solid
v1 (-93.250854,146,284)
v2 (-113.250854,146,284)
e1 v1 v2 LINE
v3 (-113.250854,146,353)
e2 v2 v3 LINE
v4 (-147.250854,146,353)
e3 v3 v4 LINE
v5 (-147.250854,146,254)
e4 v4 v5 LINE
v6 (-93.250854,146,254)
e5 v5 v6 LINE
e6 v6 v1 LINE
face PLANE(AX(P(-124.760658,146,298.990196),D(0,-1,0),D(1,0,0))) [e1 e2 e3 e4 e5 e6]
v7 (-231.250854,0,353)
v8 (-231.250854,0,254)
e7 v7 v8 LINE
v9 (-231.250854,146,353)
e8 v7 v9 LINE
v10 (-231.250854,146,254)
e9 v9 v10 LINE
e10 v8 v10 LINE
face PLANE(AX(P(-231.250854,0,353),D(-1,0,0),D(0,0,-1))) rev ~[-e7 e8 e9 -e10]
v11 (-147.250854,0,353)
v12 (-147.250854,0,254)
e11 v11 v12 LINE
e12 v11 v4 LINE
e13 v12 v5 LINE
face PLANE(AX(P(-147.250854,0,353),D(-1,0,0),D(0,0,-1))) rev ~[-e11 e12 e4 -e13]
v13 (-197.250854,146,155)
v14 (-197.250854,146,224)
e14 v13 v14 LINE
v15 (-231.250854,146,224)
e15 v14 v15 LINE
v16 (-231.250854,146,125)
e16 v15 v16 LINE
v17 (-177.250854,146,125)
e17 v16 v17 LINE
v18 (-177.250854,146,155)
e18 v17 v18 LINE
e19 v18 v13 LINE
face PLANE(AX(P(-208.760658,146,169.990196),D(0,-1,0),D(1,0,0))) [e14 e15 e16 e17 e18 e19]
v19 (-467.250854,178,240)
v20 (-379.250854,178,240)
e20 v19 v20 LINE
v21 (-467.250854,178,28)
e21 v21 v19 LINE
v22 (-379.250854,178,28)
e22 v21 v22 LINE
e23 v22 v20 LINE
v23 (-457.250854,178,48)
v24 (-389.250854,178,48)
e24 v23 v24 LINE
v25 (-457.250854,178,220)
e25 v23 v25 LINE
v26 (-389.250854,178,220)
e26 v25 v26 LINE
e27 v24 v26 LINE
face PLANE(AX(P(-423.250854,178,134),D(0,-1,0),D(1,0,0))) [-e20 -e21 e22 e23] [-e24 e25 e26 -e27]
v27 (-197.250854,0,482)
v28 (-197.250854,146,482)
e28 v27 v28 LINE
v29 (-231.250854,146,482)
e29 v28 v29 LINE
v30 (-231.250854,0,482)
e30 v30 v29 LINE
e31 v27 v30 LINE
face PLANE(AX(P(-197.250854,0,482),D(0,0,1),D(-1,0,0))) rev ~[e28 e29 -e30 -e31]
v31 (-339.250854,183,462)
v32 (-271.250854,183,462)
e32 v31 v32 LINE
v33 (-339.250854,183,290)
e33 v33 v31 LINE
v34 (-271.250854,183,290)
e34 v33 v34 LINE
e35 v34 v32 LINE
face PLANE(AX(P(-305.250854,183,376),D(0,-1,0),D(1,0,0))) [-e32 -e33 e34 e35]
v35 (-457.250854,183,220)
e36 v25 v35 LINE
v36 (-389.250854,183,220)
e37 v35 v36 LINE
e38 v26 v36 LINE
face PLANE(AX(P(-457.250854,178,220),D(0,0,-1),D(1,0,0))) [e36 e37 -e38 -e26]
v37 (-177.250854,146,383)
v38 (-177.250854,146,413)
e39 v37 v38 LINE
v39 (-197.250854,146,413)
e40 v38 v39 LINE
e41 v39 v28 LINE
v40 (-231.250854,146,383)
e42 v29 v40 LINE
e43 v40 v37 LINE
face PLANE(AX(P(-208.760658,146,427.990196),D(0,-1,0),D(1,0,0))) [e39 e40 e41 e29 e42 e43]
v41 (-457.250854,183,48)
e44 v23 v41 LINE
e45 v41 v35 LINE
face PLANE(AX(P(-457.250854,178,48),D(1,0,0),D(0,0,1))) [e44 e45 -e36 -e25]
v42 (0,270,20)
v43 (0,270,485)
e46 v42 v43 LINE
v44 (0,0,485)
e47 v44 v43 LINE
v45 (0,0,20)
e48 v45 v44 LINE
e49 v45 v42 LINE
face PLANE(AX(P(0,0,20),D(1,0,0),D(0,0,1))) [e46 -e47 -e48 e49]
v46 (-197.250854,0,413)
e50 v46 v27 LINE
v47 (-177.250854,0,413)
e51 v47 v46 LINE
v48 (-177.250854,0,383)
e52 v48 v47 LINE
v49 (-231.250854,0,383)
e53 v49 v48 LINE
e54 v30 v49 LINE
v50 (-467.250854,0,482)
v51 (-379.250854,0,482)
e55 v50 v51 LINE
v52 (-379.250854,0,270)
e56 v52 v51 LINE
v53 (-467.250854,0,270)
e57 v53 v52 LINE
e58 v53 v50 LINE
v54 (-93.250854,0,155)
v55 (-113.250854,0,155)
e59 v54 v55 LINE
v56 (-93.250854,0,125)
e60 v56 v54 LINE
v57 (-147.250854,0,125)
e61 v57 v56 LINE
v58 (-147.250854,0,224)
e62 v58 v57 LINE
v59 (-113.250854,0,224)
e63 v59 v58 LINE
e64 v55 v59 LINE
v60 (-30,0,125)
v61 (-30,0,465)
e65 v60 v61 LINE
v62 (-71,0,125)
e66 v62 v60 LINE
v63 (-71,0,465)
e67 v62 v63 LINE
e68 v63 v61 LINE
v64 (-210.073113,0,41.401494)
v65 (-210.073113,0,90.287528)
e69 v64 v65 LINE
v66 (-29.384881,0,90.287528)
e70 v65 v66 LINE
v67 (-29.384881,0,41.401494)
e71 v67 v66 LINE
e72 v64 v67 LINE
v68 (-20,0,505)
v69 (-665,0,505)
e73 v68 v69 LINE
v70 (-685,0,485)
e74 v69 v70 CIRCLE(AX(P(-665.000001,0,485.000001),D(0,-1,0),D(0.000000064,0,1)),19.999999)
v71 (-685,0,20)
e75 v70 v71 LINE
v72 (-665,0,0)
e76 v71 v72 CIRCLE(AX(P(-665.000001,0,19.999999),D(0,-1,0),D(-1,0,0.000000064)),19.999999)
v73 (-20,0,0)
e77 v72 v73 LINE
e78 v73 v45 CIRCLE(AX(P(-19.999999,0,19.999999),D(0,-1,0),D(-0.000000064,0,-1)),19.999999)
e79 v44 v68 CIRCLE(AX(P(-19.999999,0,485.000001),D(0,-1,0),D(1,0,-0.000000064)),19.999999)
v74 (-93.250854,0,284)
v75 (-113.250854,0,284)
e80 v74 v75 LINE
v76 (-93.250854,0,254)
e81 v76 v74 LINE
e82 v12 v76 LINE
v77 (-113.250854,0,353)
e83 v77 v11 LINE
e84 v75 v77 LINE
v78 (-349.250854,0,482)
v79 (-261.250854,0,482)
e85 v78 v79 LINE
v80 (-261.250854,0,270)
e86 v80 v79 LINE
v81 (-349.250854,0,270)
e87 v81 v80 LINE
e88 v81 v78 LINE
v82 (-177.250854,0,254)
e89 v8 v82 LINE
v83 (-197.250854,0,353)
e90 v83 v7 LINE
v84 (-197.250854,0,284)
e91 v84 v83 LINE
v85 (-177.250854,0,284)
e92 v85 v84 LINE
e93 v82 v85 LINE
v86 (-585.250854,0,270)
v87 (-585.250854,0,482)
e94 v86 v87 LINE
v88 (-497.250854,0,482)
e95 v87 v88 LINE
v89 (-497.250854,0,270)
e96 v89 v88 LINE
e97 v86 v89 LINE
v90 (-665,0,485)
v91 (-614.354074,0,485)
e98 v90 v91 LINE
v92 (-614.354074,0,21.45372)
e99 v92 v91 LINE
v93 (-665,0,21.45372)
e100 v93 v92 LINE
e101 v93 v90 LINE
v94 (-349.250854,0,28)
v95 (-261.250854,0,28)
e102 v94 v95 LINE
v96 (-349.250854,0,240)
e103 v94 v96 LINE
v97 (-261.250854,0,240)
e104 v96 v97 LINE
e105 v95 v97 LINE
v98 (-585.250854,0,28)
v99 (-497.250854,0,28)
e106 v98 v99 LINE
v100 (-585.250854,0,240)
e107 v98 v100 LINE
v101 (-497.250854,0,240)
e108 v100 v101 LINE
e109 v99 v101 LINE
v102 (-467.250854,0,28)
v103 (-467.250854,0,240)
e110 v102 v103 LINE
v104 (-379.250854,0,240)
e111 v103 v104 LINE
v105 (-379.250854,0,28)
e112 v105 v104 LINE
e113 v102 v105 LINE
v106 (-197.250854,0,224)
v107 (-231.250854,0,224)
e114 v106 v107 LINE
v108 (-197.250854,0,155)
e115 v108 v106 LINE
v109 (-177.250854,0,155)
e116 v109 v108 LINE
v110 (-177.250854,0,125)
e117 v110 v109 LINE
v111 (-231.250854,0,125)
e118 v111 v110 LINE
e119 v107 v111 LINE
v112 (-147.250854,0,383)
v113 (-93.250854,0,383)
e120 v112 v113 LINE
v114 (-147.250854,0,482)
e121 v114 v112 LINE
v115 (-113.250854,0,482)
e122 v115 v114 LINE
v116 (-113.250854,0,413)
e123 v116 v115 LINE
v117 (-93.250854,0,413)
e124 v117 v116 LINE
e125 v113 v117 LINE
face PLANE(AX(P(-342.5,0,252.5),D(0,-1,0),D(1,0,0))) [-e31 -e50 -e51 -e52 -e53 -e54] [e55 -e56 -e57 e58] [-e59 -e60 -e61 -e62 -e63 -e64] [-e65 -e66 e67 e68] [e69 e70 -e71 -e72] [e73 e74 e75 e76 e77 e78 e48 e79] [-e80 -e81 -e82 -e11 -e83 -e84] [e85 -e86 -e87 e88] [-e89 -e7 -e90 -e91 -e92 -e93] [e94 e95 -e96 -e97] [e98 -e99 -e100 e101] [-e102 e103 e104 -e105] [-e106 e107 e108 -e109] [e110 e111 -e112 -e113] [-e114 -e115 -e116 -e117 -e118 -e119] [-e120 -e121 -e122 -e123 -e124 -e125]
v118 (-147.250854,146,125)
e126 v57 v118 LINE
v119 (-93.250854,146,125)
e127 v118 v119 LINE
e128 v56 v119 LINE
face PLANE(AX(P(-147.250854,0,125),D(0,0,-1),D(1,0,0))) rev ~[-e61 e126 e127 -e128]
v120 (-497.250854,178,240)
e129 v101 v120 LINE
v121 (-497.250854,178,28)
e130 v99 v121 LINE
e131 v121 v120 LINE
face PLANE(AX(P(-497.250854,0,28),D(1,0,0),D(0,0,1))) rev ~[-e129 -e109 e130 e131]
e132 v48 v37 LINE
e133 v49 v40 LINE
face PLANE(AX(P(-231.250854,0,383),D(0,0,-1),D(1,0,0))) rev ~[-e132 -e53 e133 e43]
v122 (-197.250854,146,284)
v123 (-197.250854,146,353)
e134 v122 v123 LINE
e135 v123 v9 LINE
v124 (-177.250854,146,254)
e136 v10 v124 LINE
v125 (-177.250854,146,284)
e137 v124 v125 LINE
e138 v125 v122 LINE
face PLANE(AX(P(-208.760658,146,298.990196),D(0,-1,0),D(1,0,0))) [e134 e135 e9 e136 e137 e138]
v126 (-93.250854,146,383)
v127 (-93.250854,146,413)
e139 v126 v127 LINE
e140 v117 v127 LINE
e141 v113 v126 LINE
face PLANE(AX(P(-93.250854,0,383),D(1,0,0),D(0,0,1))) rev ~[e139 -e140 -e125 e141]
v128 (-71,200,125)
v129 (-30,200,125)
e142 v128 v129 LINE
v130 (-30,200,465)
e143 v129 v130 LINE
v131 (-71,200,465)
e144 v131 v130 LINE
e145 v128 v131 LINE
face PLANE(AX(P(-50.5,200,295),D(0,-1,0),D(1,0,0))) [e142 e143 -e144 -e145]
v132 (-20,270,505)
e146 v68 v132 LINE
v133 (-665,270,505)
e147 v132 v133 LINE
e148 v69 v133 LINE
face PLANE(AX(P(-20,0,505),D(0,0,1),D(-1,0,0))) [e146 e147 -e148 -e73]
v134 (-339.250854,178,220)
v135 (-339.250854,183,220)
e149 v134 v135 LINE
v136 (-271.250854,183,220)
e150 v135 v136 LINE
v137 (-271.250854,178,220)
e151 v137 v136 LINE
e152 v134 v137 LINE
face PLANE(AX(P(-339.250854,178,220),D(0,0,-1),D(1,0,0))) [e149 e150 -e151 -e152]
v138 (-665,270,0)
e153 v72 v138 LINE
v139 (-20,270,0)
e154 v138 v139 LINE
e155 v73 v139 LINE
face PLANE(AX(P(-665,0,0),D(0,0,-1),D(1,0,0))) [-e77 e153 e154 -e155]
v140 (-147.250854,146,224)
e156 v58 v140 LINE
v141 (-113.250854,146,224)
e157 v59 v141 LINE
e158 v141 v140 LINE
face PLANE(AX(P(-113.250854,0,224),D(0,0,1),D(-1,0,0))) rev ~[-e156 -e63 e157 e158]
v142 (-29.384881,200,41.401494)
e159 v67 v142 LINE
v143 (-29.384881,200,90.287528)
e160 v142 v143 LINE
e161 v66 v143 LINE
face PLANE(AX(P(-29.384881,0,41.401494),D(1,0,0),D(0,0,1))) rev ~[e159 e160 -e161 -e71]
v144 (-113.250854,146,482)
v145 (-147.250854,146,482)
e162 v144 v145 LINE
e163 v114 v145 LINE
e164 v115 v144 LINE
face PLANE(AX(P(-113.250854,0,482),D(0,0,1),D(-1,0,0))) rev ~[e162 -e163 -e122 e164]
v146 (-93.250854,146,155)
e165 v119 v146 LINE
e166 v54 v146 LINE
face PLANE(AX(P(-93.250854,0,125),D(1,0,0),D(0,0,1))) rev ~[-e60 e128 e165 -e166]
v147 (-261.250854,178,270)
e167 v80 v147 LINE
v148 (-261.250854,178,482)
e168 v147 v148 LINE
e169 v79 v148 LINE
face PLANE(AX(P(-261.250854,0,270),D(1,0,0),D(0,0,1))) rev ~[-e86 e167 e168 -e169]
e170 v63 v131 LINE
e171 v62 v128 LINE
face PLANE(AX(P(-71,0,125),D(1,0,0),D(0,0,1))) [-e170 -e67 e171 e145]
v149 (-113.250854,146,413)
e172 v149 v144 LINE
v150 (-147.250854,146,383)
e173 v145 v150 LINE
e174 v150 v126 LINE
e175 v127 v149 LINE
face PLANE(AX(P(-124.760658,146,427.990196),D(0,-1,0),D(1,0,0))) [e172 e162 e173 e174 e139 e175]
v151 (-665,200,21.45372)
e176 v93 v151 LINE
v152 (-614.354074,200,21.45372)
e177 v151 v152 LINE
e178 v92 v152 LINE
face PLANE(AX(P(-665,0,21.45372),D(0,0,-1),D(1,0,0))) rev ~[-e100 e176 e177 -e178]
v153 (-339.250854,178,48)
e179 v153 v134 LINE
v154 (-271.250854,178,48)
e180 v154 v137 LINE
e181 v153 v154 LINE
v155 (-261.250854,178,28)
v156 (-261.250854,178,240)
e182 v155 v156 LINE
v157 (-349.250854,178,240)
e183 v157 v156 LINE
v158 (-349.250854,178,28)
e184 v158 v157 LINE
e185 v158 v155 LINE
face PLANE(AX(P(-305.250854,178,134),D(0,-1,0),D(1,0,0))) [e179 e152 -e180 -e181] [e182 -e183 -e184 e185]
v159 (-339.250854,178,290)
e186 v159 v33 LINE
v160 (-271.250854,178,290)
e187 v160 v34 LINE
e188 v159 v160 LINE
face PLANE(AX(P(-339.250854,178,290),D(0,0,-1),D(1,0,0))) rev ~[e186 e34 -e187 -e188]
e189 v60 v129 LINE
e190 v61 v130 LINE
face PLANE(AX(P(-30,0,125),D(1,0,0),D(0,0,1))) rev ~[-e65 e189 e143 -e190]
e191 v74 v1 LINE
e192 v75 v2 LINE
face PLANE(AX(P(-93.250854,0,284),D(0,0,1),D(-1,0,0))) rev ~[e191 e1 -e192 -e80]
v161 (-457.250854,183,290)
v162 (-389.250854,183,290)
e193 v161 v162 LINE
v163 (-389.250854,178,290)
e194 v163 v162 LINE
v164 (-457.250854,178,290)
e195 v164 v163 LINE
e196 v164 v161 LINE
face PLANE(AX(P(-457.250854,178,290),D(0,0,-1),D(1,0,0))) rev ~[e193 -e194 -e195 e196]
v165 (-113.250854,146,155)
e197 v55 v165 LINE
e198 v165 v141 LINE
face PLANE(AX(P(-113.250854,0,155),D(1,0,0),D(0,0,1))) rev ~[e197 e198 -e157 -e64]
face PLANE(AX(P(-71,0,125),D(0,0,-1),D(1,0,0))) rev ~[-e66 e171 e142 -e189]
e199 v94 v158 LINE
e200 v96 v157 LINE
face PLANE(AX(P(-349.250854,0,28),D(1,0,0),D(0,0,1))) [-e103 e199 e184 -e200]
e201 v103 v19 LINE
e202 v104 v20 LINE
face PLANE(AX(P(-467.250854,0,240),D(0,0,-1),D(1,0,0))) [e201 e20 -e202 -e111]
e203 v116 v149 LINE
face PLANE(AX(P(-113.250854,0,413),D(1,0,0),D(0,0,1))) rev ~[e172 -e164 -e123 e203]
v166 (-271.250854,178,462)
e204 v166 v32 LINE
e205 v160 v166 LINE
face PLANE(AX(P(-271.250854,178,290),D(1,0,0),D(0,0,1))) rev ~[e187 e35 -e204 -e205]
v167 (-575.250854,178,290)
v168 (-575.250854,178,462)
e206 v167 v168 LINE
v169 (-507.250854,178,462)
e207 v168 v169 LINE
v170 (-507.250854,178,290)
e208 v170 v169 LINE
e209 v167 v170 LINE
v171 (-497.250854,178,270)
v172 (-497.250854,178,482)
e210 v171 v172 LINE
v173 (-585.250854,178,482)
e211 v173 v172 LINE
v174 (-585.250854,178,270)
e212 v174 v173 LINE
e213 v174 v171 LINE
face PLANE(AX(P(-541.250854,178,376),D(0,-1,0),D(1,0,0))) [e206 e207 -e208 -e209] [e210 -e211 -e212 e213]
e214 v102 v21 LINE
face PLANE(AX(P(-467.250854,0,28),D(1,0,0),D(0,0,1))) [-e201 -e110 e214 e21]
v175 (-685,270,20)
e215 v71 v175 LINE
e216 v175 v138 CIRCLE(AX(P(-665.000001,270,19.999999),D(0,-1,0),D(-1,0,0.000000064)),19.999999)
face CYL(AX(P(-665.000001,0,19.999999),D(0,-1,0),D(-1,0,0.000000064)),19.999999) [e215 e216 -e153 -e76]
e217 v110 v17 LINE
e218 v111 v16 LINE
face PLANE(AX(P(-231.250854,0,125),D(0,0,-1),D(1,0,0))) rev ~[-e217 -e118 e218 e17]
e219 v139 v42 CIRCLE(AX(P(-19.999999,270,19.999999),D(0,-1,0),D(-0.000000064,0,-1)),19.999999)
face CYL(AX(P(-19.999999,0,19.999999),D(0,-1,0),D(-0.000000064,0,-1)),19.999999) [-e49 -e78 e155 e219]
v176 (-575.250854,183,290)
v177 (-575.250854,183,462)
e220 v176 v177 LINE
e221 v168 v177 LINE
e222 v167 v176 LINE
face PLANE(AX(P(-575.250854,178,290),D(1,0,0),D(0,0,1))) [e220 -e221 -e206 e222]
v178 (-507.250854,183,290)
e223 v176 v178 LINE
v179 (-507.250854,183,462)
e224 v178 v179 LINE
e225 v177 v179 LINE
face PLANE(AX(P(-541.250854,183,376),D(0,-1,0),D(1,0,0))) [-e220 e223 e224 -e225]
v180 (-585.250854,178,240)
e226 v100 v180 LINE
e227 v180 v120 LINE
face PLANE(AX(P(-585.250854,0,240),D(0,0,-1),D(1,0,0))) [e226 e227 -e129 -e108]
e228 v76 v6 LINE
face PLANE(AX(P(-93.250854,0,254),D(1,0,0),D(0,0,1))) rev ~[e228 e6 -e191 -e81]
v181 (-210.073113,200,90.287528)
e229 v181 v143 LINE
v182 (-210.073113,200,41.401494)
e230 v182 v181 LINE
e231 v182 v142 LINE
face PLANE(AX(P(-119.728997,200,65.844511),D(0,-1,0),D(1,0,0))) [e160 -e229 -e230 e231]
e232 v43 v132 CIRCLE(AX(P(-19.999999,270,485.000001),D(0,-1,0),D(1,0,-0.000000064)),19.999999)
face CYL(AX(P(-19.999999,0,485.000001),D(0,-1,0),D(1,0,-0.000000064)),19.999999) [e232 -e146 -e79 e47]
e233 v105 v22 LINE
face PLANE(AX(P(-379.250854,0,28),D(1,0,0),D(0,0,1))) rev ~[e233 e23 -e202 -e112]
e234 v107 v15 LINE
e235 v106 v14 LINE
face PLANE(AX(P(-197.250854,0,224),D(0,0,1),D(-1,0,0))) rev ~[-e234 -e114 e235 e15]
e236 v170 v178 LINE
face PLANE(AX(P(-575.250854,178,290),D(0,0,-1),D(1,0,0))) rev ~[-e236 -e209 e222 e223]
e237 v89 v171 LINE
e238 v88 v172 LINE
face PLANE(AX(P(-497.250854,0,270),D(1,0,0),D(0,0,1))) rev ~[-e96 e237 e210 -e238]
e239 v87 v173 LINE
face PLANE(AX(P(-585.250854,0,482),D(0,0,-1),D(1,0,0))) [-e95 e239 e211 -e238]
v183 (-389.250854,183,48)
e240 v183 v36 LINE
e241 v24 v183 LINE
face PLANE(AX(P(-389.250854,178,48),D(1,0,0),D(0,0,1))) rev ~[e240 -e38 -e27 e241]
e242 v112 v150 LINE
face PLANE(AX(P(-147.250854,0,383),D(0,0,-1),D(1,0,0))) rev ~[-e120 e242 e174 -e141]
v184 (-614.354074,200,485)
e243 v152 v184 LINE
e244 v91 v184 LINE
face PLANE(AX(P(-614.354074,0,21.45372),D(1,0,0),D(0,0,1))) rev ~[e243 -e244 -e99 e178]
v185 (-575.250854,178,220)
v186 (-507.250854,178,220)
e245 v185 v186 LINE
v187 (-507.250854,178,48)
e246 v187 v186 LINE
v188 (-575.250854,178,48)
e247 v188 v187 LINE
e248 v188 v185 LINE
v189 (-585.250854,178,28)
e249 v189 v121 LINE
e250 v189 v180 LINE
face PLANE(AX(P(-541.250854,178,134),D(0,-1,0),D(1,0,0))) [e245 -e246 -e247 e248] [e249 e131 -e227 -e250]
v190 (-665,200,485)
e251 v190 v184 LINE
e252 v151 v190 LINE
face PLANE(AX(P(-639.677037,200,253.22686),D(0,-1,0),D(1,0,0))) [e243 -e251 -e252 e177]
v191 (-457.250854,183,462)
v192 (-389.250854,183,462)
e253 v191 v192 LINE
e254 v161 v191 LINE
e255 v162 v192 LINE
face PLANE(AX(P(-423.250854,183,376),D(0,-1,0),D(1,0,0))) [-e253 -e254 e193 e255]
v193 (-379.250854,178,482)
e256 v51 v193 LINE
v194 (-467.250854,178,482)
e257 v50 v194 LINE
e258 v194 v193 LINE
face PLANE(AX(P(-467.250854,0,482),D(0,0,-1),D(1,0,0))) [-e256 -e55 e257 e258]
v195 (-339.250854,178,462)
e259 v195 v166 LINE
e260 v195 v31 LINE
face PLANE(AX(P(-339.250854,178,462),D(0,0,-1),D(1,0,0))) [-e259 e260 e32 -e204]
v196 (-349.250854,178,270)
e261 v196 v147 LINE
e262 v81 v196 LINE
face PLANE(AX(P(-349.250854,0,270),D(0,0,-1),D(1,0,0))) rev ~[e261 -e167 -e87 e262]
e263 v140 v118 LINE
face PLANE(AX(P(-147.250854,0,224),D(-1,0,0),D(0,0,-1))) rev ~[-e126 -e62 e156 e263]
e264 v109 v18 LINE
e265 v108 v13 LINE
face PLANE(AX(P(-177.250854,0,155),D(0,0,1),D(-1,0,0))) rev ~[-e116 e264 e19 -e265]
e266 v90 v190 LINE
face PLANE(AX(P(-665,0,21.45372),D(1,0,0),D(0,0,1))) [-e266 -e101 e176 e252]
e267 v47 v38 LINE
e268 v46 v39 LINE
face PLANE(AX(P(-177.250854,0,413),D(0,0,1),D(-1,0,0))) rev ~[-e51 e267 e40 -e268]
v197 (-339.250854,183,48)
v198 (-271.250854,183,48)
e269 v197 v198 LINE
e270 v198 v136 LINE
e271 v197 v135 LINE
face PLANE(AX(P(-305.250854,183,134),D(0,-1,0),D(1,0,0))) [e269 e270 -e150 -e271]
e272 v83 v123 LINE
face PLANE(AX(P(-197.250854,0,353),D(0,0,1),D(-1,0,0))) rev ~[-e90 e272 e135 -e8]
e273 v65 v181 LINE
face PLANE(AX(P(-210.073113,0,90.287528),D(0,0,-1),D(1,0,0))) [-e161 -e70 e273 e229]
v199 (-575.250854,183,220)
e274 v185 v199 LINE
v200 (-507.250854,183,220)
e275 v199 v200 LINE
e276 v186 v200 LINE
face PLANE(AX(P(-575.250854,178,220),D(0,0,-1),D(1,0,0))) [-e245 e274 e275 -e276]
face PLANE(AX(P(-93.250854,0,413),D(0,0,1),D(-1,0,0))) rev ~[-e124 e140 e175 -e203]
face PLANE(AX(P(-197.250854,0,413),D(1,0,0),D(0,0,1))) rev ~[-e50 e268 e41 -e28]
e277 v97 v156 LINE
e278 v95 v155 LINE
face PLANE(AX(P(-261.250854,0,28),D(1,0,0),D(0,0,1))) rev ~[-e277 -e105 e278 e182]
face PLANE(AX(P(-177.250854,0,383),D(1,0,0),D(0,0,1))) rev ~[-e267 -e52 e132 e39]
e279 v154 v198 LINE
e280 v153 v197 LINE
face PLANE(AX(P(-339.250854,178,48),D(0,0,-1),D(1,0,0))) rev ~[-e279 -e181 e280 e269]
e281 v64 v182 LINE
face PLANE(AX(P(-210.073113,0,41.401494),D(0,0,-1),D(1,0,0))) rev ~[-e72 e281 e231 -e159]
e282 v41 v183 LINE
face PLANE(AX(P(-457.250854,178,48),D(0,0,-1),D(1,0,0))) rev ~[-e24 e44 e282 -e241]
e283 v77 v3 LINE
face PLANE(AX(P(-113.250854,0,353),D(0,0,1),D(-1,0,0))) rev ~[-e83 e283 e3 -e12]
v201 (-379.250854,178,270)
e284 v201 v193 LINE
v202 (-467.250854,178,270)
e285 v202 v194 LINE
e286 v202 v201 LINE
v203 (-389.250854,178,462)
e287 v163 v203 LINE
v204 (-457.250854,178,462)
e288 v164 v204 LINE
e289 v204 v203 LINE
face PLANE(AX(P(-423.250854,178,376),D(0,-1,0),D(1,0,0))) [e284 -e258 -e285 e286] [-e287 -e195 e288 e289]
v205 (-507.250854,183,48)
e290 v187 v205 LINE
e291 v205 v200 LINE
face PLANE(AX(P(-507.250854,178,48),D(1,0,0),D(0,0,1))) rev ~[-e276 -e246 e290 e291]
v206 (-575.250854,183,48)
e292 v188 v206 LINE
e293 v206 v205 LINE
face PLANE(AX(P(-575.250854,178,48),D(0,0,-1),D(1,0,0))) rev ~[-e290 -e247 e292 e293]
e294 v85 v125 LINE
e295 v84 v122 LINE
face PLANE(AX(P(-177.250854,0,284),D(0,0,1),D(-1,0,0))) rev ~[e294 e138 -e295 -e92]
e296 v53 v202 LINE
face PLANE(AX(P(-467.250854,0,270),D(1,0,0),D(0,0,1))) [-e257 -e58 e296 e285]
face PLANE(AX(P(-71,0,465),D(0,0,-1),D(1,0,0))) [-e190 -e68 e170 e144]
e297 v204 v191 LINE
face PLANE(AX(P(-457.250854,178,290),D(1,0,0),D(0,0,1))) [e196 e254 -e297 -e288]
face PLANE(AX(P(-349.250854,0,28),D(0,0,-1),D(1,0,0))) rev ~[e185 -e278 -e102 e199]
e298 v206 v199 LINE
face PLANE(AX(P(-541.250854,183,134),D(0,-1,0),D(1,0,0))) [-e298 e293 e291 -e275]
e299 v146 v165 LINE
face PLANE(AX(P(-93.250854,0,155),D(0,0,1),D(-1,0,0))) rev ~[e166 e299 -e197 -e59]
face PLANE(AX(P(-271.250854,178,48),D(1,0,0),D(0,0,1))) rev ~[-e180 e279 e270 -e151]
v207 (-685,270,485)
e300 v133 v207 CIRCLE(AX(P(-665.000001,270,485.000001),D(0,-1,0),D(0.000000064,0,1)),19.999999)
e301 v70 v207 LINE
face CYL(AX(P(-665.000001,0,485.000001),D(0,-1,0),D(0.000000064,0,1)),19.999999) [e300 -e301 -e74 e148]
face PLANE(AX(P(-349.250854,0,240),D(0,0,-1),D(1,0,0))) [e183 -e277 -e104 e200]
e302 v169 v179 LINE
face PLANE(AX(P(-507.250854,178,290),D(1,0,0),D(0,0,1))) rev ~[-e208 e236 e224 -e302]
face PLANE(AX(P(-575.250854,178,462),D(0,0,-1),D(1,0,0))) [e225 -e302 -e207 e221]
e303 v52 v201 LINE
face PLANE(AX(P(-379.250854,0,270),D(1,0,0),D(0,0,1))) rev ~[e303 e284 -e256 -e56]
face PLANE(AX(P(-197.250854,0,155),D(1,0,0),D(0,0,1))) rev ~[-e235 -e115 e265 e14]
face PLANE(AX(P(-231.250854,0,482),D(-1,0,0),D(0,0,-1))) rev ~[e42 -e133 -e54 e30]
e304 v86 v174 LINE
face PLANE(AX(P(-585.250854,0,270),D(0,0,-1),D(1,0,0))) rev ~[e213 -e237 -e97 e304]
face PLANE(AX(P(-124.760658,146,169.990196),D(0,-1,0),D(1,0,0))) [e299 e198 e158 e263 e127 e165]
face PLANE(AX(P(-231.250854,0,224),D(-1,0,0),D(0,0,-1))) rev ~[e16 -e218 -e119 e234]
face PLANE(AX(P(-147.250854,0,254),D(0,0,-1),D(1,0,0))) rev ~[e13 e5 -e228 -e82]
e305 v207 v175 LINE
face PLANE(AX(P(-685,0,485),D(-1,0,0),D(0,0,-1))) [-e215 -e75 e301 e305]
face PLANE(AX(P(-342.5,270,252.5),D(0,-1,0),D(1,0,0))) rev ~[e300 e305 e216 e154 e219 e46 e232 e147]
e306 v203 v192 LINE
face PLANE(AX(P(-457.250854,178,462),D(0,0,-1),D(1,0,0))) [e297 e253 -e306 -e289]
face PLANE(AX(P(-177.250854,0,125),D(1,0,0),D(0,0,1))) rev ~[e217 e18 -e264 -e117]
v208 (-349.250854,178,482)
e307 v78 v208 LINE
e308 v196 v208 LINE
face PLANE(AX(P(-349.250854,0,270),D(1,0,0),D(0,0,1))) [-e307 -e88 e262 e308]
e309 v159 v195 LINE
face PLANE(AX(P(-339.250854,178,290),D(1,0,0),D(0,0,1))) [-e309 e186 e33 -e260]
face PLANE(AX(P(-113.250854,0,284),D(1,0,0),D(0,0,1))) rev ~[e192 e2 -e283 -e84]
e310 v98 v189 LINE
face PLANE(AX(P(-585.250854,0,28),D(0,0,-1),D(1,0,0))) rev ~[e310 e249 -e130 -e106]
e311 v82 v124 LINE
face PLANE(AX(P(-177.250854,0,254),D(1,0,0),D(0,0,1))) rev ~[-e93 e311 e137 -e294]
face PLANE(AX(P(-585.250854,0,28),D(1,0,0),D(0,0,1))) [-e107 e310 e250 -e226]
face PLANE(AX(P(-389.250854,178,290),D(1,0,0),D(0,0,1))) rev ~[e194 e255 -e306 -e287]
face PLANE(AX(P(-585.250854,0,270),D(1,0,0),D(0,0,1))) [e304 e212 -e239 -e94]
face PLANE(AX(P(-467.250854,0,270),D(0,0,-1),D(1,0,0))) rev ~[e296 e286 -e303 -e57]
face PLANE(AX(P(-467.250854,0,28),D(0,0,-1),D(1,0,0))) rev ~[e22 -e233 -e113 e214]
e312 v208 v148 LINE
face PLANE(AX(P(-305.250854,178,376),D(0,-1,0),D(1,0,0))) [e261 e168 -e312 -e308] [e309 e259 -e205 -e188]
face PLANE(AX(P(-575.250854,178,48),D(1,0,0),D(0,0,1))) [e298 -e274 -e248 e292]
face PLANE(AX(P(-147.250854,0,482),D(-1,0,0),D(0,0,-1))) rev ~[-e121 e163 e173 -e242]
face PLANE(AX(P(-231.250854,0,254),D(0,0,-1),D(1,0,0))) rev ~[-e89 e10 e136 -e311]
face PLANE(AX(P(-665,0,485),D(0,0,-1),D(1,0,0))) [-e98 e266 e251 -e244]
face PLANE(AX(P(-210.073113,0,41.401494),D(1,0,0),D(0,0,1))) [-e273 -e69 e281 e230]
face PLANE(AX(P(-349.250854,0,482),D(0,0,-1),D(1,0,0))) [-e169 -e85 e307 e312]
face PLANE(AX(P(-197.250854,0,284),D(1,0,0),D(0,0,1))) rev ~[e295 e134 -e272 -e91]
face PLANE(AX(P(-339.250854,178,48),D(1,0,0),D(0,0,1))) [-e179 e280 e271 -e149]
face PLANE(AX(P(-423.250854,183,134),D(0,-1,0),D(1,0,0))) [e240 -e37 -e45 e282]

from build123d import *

# Parameters (mm, degrees)
F1_DEPTH = 270
F2_W     = 88
F2_H     = 212
F3_DEPTH = 178
F4_W     = 68
F4_H     = 172
F5_DEPTH = 5
F7_DEPTH = 146
F8_W     = 41
F8_H     = 340
F8_W_2   = 180.688232
F8_H_2   = 48.886035
F8_W_3   = 50.645926
F8_H_3   = 463.54628
F9_DEPTH = 200


with BuildPart() as f1:
    # F0 (on Front) → F1 (new body)
    with BuildSketch(Plane.XZ):
        with BuildLine():
            Line((-20, 505), (-665, 505))
            ThreePointArc((-665, 505), (-679.142136, 499.142136), (-685, 485))
            Line((-685, 485), (-685, 20))
            ThreePointArc((-685, 20), (-679.142136, 5.857864), (-665, 0))
            Line((-665, 0), (-20, 0))
            ThreePointArc((-20, 0), (-5.857864, 5.857864), (0, 20))
            Line((0, 20), (0, 485))
            ThreePointArc((0, 485), (-5.857864, 499.142136), (-20, 505))
        make_face()
    extrude(amount=-F1_DEPTH)

    # F2 (on face) → F3 (cut)
    with BuildSketch(Plane.XZ):
        with Locations((-541.250854, 134)):
            Rectangle(F2_W, F2_H)
        with Locations((-541.250854, 376)):
            Rectangle(F2_W, F2_H)
        with Locations((-423.250854, 134)):
            Rectangle(F2_W, F2_H)
        with Locations((-423.250854, 376)):
            Rectangle(F2_W, F2_H)
        with Locations((-305.250854, 134)):
            Rectangle(F2_W, F2_H)
        with Locations((-305.250854, 376)):
            Rectangle(F2_W, F2_H)
    extrude(amount=-F3_DEPTH, mode=Mode.SUBTRACT)

    # F4 (on face) → F5 (cut)
    with BuildSketch(Plane.XZ.offset(-178)):
        with Locations((-541.250854, 376)):
            Rectangle(F4_W, F4_H)
        with Locations((-423.250854, 376)):
            Rectangle(F4_W, F4_H)
        with Locations((-305.250854, 376)):
            Rectangle(F4_W, F4_H)
        with Locations((-305.250854, 134)):
            Rectangle(F4_W, F4_H)
        with Locations((-423.250854, 134)):
            Rectangle(F4_W, F4_H)
        with Locations((-541.250854, 134)):
            Rectangle(F4_W, F4_H)
    extrude(amount=-F5_DEPTH, mode=Mode.SUBTRACT)

    # F6 (on face) → F7 (cut)
    with BuildSketch(Plane.XZ):
        Polygon((-231.250854, 482), (-231.250854, 383), (-177.250854, 383), (-177.250854, 413), (-197.250854, 413), (-197.250854, 482), align=None)
        Polygon((-231.250854, 353), (-231.250854, 254), (-177.250854, 254), (-177.250854, 284), (-197.250854, 284), (-197.250854, 353), align=None)
        Polygon((-231.250854, 224), (-231.250854, 125), (-177.250854, 125), (-177.250854, 155), (-197.250854, 155), (-197.250854, 224), align=None)
        Polygon((-147.250854, 482), (-147.250854, 383), (-93.250854, 383), (-93.250854, 413), (-113.250854, 413), (-113.250854, 482), align=None)
        Polygon((-147.250854, 353), (-147.250854, 254), (-93.250854, 254), (-93.250854, 284), (-113.250854, 284), (-113.250854, 353), align=None)
        Polygon((-147.250854, 224), (-147.250854, 125), (-93.250854, 125), (-93.250854, 155), (-113.250854, 155), (-113.250854, 224), align=None)
    extrude(amount=-F7_DEPTH, mode=Mode.SUBTRACT)

    # F8 (on face) → F9 (cut)
    with BuildSketch(Plane.XZ):
        with Locations((-50.5, 295)):
            Rectangle(F8_W, F8_H)
        with Locations((-119.728997, 65.844511)):
            Rectangle(F8_W_2, F8_H_2)
        with Locations((-639.677037, 253.22686)):
            Rectangle(F8_W_3, F8_H_3)
    extrude(amount=-F9_DEPTH, mode=Mode.SUBTRACT)


solid = f1.part
